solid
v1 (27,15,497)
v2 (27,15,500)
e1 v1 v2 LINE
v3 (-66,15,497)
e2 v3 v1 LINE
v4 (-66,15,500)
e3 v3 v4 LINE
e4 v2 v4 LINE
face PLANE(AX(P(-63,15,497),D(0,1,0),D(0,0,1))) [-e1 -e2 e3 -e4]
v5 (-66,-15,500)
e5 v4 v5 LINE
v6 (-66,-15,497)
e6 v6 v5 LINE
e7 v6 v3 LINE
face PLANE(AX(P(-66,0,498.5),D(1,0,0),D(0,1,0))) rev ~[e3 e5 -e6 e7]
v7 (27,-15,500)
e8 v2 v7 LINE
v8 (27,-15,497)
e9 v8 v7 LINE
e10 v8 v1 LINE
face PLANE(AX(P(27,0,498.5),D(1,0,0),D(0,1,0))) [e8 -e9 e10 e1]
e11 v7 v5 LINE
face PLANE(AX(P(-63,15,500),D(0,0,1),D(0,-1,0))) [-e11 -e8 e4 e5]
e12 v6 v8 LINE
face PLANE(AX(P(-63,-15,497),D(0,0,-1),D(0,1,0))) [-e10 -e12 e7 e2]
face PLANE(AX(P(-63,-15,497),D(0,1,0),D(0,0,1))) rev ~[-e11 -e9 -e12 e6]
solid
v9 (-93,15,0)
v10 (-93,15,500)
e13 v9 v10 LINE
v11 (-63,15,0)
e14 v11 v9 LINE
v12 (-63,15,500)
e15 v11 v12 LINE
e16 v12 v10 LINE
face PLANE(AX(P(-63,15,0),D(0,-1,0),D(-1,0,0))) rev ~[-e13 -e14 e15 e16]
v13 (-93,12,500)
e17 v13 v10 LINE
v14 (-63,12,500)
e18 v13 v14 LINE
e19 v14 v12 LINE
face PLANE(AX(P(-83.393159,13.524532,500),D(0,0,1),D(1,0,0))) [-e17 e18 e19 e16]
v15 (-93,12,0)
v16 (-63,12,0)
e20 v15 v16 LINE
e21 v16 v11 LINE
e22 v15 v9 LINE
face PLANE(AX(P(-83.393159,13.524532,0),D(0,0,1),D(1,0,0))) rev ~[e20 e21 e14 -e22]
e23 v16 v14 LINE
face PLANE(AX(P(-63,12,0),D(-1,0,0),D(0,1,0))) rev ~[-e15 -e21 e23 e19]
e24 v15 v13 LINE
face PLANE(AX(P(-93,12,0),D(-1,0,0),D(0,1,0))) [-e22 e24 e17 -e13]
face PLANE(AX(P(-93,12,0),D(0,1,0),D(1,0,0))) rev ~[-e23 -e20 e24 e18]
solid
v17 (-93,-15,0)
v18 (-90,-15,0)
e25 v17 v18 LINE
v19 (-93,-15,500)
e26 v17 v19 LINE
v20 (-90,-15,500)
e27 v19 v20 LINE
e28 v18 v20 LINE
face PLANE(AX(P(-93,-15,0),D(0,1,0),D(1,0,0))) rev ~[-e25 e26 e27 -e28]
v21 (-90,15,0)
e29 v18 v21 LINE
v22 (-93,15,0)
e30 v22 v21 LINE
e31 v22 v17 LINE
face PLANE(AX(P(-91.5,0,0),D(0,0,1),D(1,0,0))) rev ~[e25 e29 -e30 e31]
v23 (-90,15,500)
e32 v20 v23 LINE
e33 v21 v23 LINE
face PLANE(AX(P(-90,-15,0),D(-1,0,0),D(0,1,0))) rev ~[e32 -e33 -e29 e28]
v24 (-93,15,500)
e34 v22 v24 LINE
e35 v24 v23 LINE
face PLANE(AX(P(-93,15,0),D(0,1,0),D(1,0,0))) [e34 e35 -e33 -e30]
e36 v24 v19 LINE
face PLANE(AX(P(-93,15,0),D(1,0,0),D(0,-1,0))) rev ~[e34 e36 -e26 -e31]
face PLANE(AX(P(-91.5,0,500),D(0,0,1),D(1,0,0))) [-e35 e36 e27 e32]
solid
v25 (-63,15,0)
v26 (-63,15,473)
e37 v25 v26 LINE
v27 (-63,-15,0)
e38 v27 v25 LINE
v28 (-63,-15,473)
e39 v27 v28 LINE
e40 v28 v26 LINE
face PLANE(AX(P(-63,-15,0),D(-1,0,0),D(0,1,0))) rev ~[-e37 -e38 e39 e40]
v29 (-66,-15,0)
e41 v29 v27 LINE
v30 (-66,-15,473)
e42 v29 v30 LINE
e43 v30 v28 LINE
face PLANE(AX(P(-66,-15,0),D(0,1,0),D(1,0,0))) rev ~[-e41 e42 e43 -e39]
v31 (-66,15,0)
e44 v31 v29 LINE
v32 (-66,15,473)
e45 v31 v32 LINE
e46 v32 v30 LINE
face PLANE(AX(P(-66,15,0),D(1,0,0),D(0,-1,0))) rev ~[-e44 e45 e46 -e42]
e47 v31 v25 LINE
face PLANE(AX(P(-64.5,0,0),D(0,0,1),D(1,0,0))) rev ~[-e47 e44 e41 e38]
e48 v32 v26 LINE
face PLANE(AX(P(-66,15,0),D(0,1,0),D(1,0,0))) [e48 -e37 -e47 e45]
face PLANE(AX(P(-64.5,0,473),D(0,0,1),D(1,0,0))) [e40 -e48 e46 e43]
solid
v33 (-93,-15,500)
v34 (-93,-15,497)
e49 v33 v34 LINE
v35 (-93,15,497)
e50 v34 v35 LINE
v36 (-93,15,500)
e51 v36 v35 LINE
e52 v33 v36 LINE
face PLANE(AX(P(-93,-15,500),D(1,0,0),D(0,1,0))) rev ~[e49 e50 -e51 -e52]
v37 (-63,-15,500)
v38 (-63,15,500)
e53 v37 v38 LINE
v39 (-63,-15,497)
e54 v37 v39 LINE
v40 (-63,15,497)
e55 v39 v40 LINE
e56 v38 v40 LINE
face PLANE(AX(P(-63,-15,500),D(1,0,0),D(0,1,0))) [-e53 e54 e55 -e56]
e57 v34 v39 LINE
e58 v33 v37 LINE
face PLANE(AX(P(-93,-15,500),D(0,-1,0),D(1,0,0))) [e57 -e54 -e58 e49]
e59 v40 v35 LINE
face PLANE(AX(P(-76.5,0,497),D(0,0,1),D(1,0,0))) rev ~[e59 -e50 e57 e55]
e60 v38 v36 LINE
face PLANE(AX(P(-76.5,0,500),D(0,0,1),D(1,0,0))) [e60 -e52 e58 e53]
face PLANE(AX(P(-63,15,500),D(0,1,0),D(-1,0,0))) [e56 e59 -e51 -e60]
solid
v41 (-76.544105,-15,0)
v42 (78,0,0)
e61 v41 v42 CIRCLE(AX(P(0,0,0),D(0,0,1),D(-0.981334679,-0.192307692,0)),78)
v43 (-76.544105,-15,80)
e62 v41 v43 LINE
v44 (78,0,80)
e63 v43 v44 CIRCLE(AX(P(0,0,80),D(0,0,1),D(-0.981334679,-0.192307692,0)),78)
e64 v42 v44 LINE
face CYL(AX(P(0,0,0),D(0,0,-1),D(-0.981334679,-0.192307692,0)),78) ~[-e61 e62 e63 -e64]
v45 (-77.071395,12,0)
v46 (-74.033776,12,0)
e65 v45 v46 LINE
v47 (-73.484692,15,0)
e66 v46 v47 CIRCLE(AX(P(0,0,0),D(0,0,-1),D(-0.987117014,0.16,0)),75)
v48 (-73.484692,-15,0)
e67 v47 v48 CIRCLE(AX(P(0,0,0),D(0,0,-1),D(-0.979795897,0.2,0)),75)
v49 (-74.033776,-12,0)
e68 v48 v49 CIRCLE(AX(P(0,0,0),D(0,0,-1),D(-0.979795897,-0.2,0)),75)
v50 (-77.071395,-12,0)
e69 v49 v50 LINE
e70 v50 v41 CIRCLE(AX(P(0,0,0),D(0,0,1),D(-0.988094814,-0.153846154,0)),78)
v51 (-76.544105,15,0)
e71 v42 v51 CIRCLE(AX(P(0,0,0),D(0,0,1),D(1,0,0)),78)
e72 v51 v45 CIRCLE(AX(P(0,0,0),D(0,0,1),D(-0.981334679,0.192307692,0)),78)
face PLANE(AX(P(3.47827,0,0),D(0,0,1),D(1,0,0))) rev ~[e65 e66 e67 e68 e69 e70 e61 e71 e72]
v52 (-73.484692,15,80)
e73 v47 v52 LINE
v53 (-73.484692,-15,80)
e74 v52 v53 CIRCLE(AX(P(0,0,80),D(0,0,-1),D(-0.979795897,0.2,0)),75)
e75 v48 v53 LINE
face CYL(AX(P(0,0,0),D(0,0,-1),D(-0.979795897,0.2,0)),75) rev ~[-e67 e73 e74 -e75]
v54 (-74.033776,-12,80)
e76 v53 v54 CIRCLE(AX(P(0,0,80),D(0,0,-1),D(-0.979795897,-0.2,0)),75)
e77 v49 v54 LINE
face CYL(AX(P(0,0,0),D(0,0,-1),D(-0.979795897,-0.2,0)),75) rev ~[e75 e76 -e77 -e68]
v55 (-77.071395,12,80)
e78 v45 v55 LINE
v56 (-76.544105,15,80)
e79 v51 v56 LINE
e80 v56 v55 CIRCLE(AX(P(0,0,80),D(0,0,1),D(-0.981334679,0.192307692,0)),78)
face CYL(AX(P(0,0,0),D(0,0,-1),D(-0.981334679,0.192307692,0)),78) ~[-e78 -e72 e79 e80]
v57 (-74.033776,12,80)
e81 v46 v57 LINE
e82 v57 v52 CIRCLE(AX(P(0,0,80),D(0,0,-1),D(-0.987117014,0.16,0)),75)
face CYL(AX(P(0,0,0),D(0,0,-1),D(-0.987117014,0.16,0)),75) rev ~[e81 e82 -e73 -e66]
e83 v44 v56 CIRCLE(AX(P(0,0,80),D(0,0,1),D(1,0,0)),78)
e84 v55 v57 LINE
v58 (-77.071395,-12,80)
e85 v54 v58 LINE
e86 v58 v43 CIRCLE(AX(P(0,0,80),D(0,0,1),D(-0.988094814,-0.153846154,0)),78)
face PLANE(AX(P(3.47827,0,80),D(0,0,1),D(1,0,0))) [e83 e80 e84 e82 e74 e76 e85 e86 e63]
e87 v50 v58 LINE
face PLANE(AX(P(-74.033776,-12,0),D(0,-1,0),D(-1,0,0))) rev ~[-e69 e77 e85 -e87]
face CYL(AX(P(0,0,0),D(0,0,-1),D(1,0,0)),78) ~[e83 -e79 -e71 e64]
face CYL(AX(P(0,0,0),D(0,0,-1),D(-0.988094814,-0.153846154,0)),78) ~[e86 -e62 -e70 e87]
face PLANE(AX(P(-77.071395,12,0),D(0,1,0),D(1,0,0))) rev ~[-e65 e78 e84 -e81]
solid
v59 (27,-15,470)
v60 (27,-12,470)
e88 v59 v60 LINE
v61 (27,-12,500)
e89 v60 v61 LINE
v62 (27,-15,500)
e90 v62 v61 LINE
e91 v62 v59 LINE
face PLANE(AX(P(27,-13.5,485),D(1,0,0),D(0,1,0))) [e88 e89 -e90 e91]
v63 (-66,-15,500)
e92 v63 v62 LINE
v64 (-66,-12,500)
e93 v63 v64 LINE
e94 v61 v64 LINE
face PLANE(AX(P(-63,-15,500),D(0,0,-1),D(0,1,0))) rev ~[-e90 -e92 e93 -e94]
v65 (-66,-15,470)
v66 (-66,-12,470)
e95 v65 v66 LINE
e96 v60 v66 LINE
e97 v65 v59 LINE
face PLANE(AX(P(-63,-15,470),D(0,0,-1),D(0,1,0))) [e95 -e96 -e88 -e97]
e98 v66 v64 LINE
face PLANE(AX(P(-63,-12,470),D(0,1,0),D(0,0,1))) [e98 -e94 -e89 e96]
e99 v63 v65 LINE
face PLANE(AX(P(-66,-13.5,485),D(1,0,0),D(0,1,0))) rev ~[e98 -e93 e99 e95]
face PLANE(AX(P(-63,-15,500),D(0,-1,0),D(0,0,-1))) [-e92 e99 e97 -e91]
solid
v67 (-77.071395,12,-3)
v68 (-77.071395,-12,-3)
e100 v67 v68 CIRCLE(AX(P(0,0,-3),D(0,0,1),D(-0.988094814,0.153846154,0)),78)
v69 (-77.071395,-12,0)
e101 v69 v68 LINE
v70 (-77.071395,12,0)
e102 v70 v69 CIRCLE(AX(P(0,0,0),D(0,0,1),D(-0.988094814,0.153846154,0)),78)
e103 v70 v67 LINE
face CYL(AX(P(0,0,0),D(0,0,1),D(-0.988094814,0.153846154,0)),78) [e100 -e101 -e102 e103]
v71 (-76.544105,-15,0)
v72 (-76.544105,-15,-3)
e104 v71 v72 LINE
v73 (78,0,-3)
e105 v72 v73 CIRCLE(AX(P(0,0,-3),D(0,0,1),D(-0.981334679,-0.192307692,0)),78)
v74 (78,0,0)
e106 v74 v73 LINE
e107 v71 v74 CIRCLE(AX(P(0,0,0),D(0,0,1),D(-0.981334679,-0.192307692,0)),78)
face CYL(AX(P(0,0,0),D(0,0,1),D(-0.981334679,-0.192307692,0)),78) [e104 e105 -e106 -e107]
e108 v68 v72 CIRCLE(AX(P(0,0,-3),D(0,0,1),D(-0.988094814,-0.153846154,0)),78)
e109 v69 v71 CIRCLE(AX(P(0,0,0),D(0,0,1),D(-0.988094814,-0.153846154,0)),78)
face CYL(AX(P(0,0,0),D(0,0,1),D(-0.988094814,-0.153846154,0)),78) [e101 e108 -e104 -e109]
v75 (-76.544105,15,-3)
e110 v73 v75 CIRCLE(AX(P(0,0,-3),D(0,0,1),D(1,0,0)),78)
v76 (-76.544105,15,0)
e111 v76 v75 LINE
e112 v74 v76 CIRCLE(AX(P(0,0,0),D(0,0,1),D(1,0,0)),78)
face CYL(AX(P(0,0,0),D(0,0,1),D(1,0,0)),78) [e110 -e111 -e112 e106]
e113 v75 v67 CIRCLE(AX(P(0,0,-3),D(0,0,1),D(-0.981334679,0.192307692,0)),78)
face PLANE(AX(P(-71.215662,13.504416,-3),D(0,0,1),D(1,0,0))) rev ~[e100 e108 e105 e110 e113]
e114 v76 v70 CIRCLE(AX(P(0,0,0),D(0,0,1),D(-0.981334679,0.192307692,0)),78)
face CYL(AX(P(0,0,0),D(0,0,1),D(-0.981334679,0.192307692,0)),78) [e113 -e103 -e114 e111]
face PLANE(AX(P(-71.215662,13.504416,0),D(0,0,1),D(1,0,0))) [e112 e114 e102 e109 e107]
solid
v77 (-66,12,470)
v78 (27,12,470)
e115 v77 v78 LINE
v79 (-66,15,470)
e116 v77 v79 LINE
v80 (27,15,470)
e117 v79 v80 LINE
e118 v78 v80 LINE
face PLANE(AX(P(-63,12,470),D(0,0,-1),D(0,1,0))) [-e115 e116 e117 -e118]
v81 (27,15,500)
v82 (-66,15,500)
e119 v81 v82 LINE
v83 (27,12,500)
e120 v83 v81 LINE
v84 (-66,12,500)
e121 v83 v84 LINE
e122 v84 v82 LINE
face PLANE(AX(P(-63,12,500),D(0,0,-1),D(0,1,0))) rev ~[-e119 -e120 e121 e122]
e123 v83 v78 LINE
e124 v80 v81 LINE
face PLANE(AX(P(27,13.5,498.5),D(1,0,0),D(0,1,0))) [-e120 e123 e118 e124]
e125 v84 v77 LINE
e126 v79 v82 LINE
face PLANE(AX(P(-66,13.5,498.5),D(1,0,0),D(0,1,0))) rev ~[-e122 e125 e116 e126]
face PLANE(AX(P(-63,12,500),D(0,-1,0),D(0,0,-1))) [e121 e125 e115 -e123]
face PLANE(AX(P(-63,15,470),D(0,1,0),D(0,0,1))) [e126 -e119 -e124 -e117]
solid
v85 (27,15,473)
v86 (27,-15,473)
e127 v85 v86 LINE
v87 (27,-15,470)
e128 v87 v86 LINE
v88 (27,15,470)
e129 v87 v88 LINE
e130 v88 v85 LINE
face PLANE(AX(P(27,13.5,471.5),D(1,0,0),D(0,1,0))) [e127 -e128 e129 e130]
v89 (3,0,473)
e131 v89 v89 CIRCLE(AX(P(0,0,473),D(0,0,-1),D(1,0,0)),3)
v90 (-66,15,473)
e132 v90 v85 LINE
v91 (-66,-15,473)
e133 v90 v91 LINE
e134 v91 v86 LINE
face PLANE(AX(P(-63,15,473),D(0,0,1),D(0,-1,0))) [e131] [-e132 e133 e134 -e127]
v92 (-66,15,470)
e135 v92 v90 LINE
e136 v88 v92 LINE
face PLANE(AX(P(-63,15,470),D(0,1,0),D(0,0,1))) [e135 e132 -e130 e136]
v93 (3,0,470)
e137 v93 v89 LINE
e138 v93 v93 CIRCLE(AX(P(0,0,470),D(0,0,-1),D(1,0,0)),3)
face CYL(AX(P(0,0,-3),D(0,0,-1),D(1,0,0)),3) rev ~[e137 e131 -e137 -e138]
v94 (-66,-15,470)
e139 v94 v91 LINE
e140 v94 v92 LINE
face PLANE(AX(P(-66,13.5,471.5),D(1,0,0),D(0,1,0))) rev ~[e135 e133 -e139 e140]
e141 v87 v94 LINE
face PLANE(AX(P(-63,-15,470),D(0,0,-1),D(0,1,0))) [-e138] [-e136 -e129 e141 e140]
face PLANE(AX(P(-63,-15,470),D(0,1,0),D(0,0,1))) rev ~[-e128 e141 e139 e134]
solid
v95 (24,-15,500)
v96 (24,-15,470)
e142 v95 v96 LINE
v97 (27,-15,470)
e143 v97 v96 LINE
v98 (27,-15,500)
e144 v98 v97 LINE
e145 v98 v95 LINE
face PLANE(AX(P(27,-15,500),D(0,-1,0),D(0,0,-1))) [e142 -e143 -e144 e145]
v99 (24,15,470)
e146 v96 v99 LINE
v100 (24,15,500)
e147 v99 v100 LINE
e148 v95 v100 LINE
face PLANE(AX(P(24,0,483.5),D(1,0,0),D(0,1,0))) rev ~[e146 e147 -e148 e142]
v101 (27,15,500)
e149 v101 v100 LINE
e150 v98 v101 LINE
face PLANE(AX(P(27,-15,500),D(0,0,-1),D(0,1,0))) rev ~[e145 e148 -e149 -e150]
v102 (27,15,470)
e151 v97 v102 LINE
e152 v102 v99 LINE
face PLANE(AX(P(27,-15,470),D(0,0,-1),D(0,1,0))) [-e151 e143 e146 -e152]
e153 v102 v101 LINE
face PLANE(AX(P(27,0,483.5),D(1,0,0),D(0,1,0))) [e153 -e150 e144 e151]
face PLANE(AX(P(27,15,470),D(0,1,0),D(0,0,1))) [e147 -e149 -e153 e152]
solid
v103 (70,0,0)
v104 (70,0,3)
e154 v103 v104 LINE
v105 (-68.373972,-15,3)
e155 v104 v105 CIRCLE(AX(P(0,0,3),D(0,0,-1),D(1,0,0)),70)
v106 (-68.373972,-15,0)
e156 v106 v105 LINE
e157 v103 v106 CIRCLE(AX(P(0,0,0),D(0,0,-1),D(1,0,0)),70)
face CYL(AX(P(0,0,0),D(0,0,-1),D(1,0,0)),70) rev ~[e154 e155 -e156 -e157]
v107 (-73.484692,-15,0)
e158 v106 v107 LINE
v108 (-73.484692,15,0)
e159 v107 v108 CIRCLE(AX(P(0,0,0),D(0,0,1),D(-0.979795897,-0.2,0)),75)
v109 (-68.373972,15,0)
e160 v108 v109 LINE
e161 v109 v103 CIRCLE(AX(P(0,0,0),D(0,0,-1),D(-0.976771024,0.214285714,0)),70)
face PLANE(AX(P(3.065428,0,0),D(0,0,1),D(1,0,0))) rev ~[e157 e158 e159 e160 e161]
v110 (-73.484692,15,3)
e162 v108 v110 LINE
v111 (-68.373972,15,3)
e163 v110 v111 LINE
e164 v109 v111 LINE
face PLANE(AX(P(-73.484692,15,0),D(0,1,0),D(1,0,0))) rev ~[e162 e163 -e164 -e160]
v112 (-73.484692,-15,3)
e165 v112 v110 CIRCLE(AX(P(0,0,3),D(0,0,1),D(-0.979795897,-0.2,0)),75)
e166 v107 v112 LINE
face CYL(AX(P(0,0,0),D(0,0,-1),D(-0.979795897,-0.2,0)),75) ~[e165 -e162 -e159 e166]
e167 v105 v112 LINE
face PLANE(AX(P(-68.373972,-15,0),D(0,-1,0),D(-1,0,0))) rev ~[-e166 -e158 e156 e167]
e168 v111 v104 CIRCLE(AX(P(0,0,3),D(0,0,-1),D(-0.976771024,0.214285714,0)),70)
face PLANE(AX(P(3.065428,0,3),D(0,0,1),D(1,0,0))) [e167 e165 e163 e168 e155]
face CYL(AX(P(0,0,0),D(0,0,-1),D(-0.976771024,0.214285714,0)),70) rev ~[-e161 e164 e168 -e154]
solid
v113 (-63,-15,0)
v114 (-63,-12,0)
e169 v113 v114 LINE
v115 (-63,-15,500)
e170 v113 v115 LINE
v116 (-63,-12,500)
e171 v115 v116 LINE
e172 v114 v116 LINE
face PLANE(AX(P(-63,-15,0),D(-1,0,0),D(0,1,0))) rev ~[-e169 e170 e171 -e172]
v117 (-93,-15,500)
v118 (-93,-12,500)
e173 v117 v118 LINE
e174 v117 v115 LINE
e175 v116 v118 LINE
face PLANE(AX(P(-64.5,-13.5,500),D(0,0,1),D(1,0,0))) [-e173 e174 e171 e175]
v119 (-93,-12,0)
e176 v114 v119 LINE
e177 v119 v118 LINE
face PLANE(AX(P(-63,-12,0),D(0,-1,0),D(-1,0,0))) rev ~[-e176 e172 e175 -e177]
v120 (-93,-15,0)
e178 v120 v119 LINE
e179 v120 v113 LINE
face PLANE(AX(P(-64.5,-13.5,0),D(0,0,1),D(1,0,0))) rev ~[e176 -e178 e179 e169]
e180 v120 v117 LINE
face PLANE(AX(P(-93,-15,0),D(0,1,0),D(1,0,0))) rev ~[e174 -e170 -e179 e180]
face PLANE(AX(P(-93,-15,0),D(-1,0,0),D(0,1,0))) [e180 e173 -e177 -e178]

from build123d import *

# Parameters (mm, degrees)
F4_W           = 3
F4_H           = 24
F4_H_2         = 3
F5_DEPTH       = 3
F6_DEPTH       = 3
F7_DEPTH       = 80
F8_DEPTH       = 500
F9_DEPTH       = 500
F10_DEPTH      = 473
F11_W          = 3
F11_H          = 24
F11_H_2        = 3
F12_DEPTH      = 90
F12_DEPTH_BACK = 3
F11_W_2        = 24
F13_DEPTH      = 90
F13_DEPTH_BACK = 3
F14_W          = 30
F14_H          = 27
F14_H_2        = 3
F15_DEPTH      = 3
F16_W          = 27
F16_H          = 30
F16_W_2        = 3
F17_DEPTH      = 3
F18_R          = 3
F19_DEPTH      = 488


with BuildPart() as f5:
    # F4 (on Top) → F5 (new body)
    with BuildSketch(Plane.XY):
        with BuildLine():
            Line((-68.3739716559, 15), (-73.4846922835, 15))
            ThreePointArc((-73.4846922835, 15), (-73.7744849304, 13.5027913134), (-74.0337760755, 12))
            Line((-74.0337760755, 12), (-68.9637585983, 12))
            ThreePointArc((-68.9637585983, 12), (-68.6852461438, 13.5032204366), (-68.3739716559, 15))
        make_face()
        with BuildLine():
            Line((-68.9637585983, 12), (-74.0337760755, 12))
            ThreePointArc((-74.0337760755, 12), (-75, 0), (-74.0337760755, -12))
            Line((-74.0337760755, -12), (-68.9637585983, -12))
            ThreePointArc((-68.9637585983, -12), (-70, 0), (-68.9637585983, 12))
        make_face()
        with BuildLine():
            ThreePointArc((-74.0337760755, -12), (-73.7744849304, -13.5027913134), (-73.4846922835, -15))
            Line((-73.4846922835, -15), (-68.3739716559, -15))
            ThreePointArc((-68.3739716559, -15), (-68.6852461438, -13.5032204366), (-68.9637585983, -12))
            Line((-68.9637585983, -12), (-74.0337760755, -12))
        make_face()
        with BuildLine():
            ThreePointArc((-73.4846922835, -15), (7.5381721504, -74.6202114754), (75, 0))
            ThreePointArc((75, 0), (7.5381721504, 74.6202114754), (-73.4846922835, 15))
            Line((-73.4846922835, 15), (-68.3739716559, 15))
            ThreePointArc((-68.3739716559, 15), (7.5439374364, 69.5923056663), (70, 0))
            ThreePointArc((70, 0), (7.5439374364, -69.5923056663), (-68.3739716559, -15))
            Line((-68.3739716559, -15), (-73.4846922835, -15))
        make_face()
        with BuildLine():
            ThreePointArc((-74.0337760755, 12), (-73.7744849304, 13.5027913134), (-73.4846922835, 15))
            Line((-73.4846922835, 15), (-76.544104933, 15))
            ThreePointArc((-76.544104933, 15), (-76.8223957656, 13.5025741556), (-77.071395472, 12))
            Line((-77.071395472, 12), (-74.0337760755, 12))
        make_face()
        with BuildLine():
            ThreePointArc((-74.0337760755, -12), (-75, 0), (-74.0337760755, 12))
            Line((-74.0337760755, 12), (-77.071395472, 12))
            ThreePointArc((-77.071395472, 12), (-78, 0), (-77.071395472, -12))
            Line((-77.071395472, -12), (-74.0337760755, -12))
        make_face()
        with BuildLine():
            Line((-76.544104933, -15), (-73.4846922835, -15))
            ThreePointArc((-73.4846922835, -15), (-73.7744849304, -13.5027913134), (-74.0337760755, -12))
            Line((-74.0337760755, -12), (-77.071395472, -12))
            ThreePointArc((-77.071395472, -12), (-76.8223957656, -13.5025741556), (-76.544104933, -15))
        make_face()
        with BuildLine():
            ThreePointArc((-73.4846922835, 15), (7.5381721504, 74.6202114754), (75, 0))
            ThreePointArc((75, 0), (7.5381721504, -74.6202114754), (-73.4846922835, -15))
            Line((-73.4846922835, -15), (-76.544104933, -15))
            ThreePointArc((-76.544104933, -15), (7.5352443631, -77.6351730364), (78, 0))
            ThreePointArc((78, 0), (7.5352443631, 77.6351730364), (-76.544104933, 15))
            Line((-76.544104933, 15), (-73.4846922835, 15))
        make_face()
        with BuildLine():
            Line((-66, 12), (-68.9637585983, 12))
            ThreePointArc((-68.9637585983, 12), (-70, 0), (-68.9637585983, -12))
            Line((-68.9637585983, -12), (-66, -12))
            Line((-66, -12), (-66, 12))
        make_face()
        with BuildLine():
            ThreePointArc((70, 0), (7.5439374364, 69.5923056663), (-68.3739716559, 15))
            Line((-68.3739716559, 15), (-66, 15))
            Line((-66, 15), (-63, 15))
            Line((-63, 15), (-63, 12))
            Line((-63, 12), (-63, -12))
            Line((-63, -12), (-63, -15))
            Line((-63, -15), (-66, -15))
            Line((-66, -15), (-68.3739716559, -15))
            ThreePointArc((-68.3739716559, -15), (7.5439374364, -69.5923056663), (70, 0))
        make_face()
        with BuildLine():
            Line((-66, 15), (-68.3739716559, 15))
            ThreePointArc((-68.3739716559, 15), (-68.6852461438, 13.5032204366), (-68.9637585983, 12))
            Line((-68.9637585983, 12), (-66, 12))
            Line((-66, 12), (-66, 15))
        make_face()
        with Locations((-64.5, 0)):
            Rectangle(F4_W, F4_H)
        with Locations((-64.5, 13.5)):
            Rectangle(F4_W, F4_H_2)
        with BuildLine():
            ThreePointArc((-68.9637585983, -12), (-68.6852461438, -13.5032204366), (-68.3739716559, -15))
            Line((-68.3739716559, -15), (-66, -15))
            Line((-66, -15), (-66, -12))
            Line((-66, -12), (-68.9637585983, -12))
        make_face()
        with Locations((-64.5, -13.5)):
            Rectangle(F4_W, F4_H_2)
    extrude(amount=-F5_DEPTH)


with BuildPart() as f6:
    # F4 (on Top) → F6 (new body)
    with BuildSketch(Plane.XY):
        with BuildLine():
            ThreePointArc((-73.4846922835, -15), (7.5381721504, -74.6202114754), (75, 0))
            ThreePointArc((75, 0), (7.5381721504, 74.6202114754), (-73.4846922835, 15))
            Line((-73.4846922835, 15), (-68.3739716559, 15))
            ThreePointArc((-68.3739716559, 15), (7.5439374364, 69.5923056663), (70, 0))
            ThreePointArc((70, 0), (7.5439374364, -69.5923056663), (-68.3739716559, -15))
            Line((-68.3739716559, -15), (-73.4846922835, -15))
        make_face()
    extrude(amount=F6_DEPTH)


with BuildPart() as f7:
    # F4 (on Top) → F7 (new body)
    with BuildSketch(Plane.XY):
        with BuildLine():
            ThreePointArc((-73.4846922835, 15), (7.5381721504, 74.6202114754), (75, 0))
            ThreePointArc((75, 0), (7.5381721504, -74.6202114754), (-73.4846922835, -15))
            Line((-73.4846922835, -15), (-76.544104933, -15))
            ThreePointArc((-76.544104933, -15), (7.5352443631, -77.6351730364), (78, 0))
            ThreePointArc((78, 0), (7.5352443631, 77.6351730364), (-76.544104933, 15))
            Line((-76.544104933, 15), (-73.4846922835, 15))
        make_face()
        with BuildLine():
            ThreePointArc((-74.0337760755, 12), (-73.7744849304, 13.5027913134), (-73.4846922835, 15))
            Line((-73.4846922835, 15), (-76.544104933, 15))
            ThreePointArc((-76.544104933, 15), (-76.8223957656, 13.5025741556), (-77.071395472, 12))
            Line((-77.071395472, 12), (-74.0337760755, 12))
        make_face()
        with BuildLine():
            Line((-76.544104933, -15), (-73.4846922835, -15))
            ThreePointArc((-73.4846922835, -15), (-73.7744849304, -13.5027913134), (-74.0337760755, -12))
            Line((-74.0337760755, -12), (-77.071395472, -12))
            ThreePointArc((-77.071395472, -12), (-76.8223957656, -13.5025741556), (-76.544104933, -15))
        make_face()
    extrude(amount=F7_DEPTH)


with BuildPart() as f8:
    # F4 (on Top) → F8 (new body)
    with BuildSketch(Plane.XY):
        with BuildLine():
            ThreePointArc((-77.071395472, 12), (-76.8223957656, 13.5025741556), (-76.544104933, 15))
            Line((-76.544104933, 15), (-90, 15))
            Line((-90, 15), (-90, 12))
            Line((-90, 12), (-77.071395472, 12))
        make_face()
        with BuildLine():
            ThreePointArc((-74.0337760755, 12), (-73.7744849304, 13.5027913134), (-73.4846922835, 15))
            Line((-73.4846922835, 15), (-76.544104933, 15))
            ThreePointArc((-76.544104933, 15), (-76.8223957656, 13.5025741556), (-77.071395472, 12))
            Line((-77.071395472, 12), (-74.0337760755, 12))
        make_face()
        with BuildLine():
            Line((-68.3739716559, 15), (-73.4846922835, 15))
            ThreePointArc((-73.4846922835, 15), (-73.7744849304, 13.5027913134), (-74.0337760755, 12))
            Line((-74.0337760755, 12), (-68.9637585983, 12))
            ThreePointArc((-68.9637585983, 12), (-68.6852461438, 13.5032204366), (-68.3739716559, 15))
        make_face()
        with BuildLine():
            Line((-66, 15), (-68.3739716559, 15))
            ThreePointArc((-68.3739716559, 15), (-68.6852461438, 13.5032204366), (-68.9637585983, 12))
            Line((-68.9637585983, 12), (-66, 12))
            Line((-66, 12), (-66, 15))
        make_face()
        with Locations((-64.5, 13.5)):
            Rectangle(F4_W, F4_H_2)
        with Locations((-91.5, 13.5)):
            Rectangle(F4_W, F4_H_2)
    extrude(amount=F8_DEPTH)


with BuildPart() as f8b:
    # F4 (on Top) → F8, piece 2 (new body)
    with BuildSketch(Plane.XY):
        with Locations((-64.5, -13.5)):
            Rectangle(F4_W, F4_H_2)
        with BuildLine():
            ThreePointArc((-68.9637585983, -12), (-68.6852461438, -13.5032204366), (-68.3739716559, -15))
            Line((-68.3739716559, -15), (-66, -15))
            Line((-66, -15), (-66, -12))
            Line((-66, -12), (-68.9637585983, -12))
        make_face()
        with BuildLine():
            ThreePointArc((-74.0337760755, -12), (-73.7744849304, -13.5027913134), (-73.4846922835, -15))
            Line((-73.4846922835, -15), (-68.3739716559, -15))
            ThreePointArc((-68.3739716559, -15), (-68.6852461438, -13.5032204366), (-68.9637585983, -12))
            Line((-68.9637585983, -12), (-74.0337760755, -12))
        make_face()
        with BuildLine():
            Line((-76.544104933, -15), (-73.4846922835, -15))
            ThreePointArc((-73.4846922835, -15), (-73.7744849304, -13.5027913134), (-74.0337760755, -12))
            Line((-74.0337760755, -12), (-77.071395472, -12))
            ThreePointArc((-77.071395472, -12), (-76.8223957656, -13.5025741556), (-76.544104933, -15))
        make_face()
        with BuildLine():
            Line((-90, -15), (-76.544104933, -15))
            ThreePointArc((-76.544104933, -15), (-76.8223957656, -13.5025741556), (-77.071395472, -12))
            Line((-77.071395472, -12), (-90, -12))
            Line((-90, -12), (-90, -15))
        make_face()
        with Locations((-91.5, -13.5)):
            Rectangle(F4_W, F4_H_2)
    extrude(amount=F8_DEPTH)


with BuildPart() as f9:
    # F4 (on Top) → F9 (new body)
    with BuildSketch(Plane.XY):
        with Locations((-91.5, 0)):
            Rectangle(F4_W, F4_H)
        with Locations((-91.5, -13.5)):
            Rectangle(F4_W, F4_H_2)
        with Locations((-91.5, 13.5)):
            Rectangle(F4_W, F4_H_2)
    extrude(amount=F9_DEPTH)


with BuildPart() as f10:
    # F4 (on Top) → F10 (new body)
    with BuildSketch(Plane.XY):
        with Locations((-64.5, 0)):
            Rectangle(F4_W, F4_H)
        with Locations((-64.5, -13.5)):
            Rectangle(F4_W, F4_H_2)
        with Locations((-64.5, 13.5)):
            Rectangle(F4_W, F4_H_2)
    extrude(amount=F10_DEPTH)


with BuildPart() as f12:
    # F11 (on face) → F12 (new body, two sides)
    with BuildSketch(Plane.YZ.offset(-63)) as f12_sk:
        with Locations((-13.5, 485)):
            Rectangle(F11_W, F11_H)
        with Locations((-13.5, 498.5)):
            Rectangle(F11_W, F11_H_2)
        with Locations((-13.5, 471.5)):
            Rectangle(F11_W, F11_H_2)
    extrude(amount=F12_DEPTH)
    extrude(f12_sk.sketch, amount=-F12_DEPTH_BACK)


with BuildPart() as f12b:
    # F11 (on face) → F12, piece 2 (new body, two sides)
    with BuildSketch(Plane.YZ.offset(-63)) as f12_2_sk:
        with Locations((13.5, 498.5)):
            Rectangle(F11_W, F11_H_2)
        with Locations((13.5, 485)):
            Rectangle(F11_W, F11_H)
        with Locations((13.5, 471.5)):
            Rectangle(F11_W, F11_H_2)
    extrude(amount=F12_DEPTH)
    extrude(f12_2_sk.sketch, amount=-F12_DEPTH_BACK)


with BuildPart() as f13:
    # F11 (on face) → F13 (new body, two sides)
    with BuildSketch(Plane.YZ.offset(-63)) as f13_sk:
        with Locations((0, 498.5)):
            Rectangle(F11_W_2, F11_H_2)
        with Locations((-13.5, 498.5)):
            Rectangle(F11_W, F11_H_2)
        with Locations((13.5, 498.5)):
            Rectangle(F11_W, F11_H_2)
    extrude(amount=F13_DEPTH)
    extrude(f13_sk.sketch, amount=-F13_DEPTH_BACK)


with BuildPart() as f13b:
    # F11 (on face) → F13, piece 2 (new body, two sides)
    with BuildSketch(Plane.YZ.offset(-63)) as f13_2_sk:
        with Locations((13.5, 471.5)):
            Rectangle(F11_W, F11_H_2)
        with Locations((0, 471.5)):
            Rectangle(F11_W_2, F11_H_2)
        with Locations((-13.5, 471.5)):
            Rectangle(F11_W, F11_H_2)
    extrude(amount=F13_DEPTH)
    extrude(f13_2_sk.sketch, amount=-F13_DEPTH_BACK)


with BuildPart() as f15:
    # F14 (on face) → F15 (new body)
    with BuildSketch(Plane.YZ.offset(27)):
        with Locations((0, 483.5)):
            Rectangle(F14_W, F14_H)
        with Locations((0, 498.5)):
            Rectangle(F14_W, F14_H_2)
    extrude(amount=-F15_DEPTH)


with BuildPart() as f17:
    # F16 (on face) → F17 (new body)
    with BuildSketch(Plane.XY.offset(500)):
        with Locations((-76.5, 0)):
            Rectangle(F16_W, F16_H)
        with Locations((-91.5, 0)):
            Rectangle(F16_W_2, F16_H)
    extrude(amount=-F17_DEPTH)


with BuildPart() as f19:
    # F18 (on face) → F19 (new body)
    with BuildSketch(Plane(origin=(0, 0, -3), x_dir=(1, 0, 0), z_dir=(0, 0, -1))):
        Circle(F18_R)
    extrude(amount=-F19_DEPTH)


with BuildPart() as f13b_1:
    add(f13b.part)

    # F20: cut F19
    add(f19.part, mode=Mode.SUBTRACT)


solid = Compound([f5.part, f6.part, f7.part, f8.part, f8b.part, f9.part, f10.part, f12.part, f12b.part, f13.part, f15.part, f17.part, f13b_1.part])
